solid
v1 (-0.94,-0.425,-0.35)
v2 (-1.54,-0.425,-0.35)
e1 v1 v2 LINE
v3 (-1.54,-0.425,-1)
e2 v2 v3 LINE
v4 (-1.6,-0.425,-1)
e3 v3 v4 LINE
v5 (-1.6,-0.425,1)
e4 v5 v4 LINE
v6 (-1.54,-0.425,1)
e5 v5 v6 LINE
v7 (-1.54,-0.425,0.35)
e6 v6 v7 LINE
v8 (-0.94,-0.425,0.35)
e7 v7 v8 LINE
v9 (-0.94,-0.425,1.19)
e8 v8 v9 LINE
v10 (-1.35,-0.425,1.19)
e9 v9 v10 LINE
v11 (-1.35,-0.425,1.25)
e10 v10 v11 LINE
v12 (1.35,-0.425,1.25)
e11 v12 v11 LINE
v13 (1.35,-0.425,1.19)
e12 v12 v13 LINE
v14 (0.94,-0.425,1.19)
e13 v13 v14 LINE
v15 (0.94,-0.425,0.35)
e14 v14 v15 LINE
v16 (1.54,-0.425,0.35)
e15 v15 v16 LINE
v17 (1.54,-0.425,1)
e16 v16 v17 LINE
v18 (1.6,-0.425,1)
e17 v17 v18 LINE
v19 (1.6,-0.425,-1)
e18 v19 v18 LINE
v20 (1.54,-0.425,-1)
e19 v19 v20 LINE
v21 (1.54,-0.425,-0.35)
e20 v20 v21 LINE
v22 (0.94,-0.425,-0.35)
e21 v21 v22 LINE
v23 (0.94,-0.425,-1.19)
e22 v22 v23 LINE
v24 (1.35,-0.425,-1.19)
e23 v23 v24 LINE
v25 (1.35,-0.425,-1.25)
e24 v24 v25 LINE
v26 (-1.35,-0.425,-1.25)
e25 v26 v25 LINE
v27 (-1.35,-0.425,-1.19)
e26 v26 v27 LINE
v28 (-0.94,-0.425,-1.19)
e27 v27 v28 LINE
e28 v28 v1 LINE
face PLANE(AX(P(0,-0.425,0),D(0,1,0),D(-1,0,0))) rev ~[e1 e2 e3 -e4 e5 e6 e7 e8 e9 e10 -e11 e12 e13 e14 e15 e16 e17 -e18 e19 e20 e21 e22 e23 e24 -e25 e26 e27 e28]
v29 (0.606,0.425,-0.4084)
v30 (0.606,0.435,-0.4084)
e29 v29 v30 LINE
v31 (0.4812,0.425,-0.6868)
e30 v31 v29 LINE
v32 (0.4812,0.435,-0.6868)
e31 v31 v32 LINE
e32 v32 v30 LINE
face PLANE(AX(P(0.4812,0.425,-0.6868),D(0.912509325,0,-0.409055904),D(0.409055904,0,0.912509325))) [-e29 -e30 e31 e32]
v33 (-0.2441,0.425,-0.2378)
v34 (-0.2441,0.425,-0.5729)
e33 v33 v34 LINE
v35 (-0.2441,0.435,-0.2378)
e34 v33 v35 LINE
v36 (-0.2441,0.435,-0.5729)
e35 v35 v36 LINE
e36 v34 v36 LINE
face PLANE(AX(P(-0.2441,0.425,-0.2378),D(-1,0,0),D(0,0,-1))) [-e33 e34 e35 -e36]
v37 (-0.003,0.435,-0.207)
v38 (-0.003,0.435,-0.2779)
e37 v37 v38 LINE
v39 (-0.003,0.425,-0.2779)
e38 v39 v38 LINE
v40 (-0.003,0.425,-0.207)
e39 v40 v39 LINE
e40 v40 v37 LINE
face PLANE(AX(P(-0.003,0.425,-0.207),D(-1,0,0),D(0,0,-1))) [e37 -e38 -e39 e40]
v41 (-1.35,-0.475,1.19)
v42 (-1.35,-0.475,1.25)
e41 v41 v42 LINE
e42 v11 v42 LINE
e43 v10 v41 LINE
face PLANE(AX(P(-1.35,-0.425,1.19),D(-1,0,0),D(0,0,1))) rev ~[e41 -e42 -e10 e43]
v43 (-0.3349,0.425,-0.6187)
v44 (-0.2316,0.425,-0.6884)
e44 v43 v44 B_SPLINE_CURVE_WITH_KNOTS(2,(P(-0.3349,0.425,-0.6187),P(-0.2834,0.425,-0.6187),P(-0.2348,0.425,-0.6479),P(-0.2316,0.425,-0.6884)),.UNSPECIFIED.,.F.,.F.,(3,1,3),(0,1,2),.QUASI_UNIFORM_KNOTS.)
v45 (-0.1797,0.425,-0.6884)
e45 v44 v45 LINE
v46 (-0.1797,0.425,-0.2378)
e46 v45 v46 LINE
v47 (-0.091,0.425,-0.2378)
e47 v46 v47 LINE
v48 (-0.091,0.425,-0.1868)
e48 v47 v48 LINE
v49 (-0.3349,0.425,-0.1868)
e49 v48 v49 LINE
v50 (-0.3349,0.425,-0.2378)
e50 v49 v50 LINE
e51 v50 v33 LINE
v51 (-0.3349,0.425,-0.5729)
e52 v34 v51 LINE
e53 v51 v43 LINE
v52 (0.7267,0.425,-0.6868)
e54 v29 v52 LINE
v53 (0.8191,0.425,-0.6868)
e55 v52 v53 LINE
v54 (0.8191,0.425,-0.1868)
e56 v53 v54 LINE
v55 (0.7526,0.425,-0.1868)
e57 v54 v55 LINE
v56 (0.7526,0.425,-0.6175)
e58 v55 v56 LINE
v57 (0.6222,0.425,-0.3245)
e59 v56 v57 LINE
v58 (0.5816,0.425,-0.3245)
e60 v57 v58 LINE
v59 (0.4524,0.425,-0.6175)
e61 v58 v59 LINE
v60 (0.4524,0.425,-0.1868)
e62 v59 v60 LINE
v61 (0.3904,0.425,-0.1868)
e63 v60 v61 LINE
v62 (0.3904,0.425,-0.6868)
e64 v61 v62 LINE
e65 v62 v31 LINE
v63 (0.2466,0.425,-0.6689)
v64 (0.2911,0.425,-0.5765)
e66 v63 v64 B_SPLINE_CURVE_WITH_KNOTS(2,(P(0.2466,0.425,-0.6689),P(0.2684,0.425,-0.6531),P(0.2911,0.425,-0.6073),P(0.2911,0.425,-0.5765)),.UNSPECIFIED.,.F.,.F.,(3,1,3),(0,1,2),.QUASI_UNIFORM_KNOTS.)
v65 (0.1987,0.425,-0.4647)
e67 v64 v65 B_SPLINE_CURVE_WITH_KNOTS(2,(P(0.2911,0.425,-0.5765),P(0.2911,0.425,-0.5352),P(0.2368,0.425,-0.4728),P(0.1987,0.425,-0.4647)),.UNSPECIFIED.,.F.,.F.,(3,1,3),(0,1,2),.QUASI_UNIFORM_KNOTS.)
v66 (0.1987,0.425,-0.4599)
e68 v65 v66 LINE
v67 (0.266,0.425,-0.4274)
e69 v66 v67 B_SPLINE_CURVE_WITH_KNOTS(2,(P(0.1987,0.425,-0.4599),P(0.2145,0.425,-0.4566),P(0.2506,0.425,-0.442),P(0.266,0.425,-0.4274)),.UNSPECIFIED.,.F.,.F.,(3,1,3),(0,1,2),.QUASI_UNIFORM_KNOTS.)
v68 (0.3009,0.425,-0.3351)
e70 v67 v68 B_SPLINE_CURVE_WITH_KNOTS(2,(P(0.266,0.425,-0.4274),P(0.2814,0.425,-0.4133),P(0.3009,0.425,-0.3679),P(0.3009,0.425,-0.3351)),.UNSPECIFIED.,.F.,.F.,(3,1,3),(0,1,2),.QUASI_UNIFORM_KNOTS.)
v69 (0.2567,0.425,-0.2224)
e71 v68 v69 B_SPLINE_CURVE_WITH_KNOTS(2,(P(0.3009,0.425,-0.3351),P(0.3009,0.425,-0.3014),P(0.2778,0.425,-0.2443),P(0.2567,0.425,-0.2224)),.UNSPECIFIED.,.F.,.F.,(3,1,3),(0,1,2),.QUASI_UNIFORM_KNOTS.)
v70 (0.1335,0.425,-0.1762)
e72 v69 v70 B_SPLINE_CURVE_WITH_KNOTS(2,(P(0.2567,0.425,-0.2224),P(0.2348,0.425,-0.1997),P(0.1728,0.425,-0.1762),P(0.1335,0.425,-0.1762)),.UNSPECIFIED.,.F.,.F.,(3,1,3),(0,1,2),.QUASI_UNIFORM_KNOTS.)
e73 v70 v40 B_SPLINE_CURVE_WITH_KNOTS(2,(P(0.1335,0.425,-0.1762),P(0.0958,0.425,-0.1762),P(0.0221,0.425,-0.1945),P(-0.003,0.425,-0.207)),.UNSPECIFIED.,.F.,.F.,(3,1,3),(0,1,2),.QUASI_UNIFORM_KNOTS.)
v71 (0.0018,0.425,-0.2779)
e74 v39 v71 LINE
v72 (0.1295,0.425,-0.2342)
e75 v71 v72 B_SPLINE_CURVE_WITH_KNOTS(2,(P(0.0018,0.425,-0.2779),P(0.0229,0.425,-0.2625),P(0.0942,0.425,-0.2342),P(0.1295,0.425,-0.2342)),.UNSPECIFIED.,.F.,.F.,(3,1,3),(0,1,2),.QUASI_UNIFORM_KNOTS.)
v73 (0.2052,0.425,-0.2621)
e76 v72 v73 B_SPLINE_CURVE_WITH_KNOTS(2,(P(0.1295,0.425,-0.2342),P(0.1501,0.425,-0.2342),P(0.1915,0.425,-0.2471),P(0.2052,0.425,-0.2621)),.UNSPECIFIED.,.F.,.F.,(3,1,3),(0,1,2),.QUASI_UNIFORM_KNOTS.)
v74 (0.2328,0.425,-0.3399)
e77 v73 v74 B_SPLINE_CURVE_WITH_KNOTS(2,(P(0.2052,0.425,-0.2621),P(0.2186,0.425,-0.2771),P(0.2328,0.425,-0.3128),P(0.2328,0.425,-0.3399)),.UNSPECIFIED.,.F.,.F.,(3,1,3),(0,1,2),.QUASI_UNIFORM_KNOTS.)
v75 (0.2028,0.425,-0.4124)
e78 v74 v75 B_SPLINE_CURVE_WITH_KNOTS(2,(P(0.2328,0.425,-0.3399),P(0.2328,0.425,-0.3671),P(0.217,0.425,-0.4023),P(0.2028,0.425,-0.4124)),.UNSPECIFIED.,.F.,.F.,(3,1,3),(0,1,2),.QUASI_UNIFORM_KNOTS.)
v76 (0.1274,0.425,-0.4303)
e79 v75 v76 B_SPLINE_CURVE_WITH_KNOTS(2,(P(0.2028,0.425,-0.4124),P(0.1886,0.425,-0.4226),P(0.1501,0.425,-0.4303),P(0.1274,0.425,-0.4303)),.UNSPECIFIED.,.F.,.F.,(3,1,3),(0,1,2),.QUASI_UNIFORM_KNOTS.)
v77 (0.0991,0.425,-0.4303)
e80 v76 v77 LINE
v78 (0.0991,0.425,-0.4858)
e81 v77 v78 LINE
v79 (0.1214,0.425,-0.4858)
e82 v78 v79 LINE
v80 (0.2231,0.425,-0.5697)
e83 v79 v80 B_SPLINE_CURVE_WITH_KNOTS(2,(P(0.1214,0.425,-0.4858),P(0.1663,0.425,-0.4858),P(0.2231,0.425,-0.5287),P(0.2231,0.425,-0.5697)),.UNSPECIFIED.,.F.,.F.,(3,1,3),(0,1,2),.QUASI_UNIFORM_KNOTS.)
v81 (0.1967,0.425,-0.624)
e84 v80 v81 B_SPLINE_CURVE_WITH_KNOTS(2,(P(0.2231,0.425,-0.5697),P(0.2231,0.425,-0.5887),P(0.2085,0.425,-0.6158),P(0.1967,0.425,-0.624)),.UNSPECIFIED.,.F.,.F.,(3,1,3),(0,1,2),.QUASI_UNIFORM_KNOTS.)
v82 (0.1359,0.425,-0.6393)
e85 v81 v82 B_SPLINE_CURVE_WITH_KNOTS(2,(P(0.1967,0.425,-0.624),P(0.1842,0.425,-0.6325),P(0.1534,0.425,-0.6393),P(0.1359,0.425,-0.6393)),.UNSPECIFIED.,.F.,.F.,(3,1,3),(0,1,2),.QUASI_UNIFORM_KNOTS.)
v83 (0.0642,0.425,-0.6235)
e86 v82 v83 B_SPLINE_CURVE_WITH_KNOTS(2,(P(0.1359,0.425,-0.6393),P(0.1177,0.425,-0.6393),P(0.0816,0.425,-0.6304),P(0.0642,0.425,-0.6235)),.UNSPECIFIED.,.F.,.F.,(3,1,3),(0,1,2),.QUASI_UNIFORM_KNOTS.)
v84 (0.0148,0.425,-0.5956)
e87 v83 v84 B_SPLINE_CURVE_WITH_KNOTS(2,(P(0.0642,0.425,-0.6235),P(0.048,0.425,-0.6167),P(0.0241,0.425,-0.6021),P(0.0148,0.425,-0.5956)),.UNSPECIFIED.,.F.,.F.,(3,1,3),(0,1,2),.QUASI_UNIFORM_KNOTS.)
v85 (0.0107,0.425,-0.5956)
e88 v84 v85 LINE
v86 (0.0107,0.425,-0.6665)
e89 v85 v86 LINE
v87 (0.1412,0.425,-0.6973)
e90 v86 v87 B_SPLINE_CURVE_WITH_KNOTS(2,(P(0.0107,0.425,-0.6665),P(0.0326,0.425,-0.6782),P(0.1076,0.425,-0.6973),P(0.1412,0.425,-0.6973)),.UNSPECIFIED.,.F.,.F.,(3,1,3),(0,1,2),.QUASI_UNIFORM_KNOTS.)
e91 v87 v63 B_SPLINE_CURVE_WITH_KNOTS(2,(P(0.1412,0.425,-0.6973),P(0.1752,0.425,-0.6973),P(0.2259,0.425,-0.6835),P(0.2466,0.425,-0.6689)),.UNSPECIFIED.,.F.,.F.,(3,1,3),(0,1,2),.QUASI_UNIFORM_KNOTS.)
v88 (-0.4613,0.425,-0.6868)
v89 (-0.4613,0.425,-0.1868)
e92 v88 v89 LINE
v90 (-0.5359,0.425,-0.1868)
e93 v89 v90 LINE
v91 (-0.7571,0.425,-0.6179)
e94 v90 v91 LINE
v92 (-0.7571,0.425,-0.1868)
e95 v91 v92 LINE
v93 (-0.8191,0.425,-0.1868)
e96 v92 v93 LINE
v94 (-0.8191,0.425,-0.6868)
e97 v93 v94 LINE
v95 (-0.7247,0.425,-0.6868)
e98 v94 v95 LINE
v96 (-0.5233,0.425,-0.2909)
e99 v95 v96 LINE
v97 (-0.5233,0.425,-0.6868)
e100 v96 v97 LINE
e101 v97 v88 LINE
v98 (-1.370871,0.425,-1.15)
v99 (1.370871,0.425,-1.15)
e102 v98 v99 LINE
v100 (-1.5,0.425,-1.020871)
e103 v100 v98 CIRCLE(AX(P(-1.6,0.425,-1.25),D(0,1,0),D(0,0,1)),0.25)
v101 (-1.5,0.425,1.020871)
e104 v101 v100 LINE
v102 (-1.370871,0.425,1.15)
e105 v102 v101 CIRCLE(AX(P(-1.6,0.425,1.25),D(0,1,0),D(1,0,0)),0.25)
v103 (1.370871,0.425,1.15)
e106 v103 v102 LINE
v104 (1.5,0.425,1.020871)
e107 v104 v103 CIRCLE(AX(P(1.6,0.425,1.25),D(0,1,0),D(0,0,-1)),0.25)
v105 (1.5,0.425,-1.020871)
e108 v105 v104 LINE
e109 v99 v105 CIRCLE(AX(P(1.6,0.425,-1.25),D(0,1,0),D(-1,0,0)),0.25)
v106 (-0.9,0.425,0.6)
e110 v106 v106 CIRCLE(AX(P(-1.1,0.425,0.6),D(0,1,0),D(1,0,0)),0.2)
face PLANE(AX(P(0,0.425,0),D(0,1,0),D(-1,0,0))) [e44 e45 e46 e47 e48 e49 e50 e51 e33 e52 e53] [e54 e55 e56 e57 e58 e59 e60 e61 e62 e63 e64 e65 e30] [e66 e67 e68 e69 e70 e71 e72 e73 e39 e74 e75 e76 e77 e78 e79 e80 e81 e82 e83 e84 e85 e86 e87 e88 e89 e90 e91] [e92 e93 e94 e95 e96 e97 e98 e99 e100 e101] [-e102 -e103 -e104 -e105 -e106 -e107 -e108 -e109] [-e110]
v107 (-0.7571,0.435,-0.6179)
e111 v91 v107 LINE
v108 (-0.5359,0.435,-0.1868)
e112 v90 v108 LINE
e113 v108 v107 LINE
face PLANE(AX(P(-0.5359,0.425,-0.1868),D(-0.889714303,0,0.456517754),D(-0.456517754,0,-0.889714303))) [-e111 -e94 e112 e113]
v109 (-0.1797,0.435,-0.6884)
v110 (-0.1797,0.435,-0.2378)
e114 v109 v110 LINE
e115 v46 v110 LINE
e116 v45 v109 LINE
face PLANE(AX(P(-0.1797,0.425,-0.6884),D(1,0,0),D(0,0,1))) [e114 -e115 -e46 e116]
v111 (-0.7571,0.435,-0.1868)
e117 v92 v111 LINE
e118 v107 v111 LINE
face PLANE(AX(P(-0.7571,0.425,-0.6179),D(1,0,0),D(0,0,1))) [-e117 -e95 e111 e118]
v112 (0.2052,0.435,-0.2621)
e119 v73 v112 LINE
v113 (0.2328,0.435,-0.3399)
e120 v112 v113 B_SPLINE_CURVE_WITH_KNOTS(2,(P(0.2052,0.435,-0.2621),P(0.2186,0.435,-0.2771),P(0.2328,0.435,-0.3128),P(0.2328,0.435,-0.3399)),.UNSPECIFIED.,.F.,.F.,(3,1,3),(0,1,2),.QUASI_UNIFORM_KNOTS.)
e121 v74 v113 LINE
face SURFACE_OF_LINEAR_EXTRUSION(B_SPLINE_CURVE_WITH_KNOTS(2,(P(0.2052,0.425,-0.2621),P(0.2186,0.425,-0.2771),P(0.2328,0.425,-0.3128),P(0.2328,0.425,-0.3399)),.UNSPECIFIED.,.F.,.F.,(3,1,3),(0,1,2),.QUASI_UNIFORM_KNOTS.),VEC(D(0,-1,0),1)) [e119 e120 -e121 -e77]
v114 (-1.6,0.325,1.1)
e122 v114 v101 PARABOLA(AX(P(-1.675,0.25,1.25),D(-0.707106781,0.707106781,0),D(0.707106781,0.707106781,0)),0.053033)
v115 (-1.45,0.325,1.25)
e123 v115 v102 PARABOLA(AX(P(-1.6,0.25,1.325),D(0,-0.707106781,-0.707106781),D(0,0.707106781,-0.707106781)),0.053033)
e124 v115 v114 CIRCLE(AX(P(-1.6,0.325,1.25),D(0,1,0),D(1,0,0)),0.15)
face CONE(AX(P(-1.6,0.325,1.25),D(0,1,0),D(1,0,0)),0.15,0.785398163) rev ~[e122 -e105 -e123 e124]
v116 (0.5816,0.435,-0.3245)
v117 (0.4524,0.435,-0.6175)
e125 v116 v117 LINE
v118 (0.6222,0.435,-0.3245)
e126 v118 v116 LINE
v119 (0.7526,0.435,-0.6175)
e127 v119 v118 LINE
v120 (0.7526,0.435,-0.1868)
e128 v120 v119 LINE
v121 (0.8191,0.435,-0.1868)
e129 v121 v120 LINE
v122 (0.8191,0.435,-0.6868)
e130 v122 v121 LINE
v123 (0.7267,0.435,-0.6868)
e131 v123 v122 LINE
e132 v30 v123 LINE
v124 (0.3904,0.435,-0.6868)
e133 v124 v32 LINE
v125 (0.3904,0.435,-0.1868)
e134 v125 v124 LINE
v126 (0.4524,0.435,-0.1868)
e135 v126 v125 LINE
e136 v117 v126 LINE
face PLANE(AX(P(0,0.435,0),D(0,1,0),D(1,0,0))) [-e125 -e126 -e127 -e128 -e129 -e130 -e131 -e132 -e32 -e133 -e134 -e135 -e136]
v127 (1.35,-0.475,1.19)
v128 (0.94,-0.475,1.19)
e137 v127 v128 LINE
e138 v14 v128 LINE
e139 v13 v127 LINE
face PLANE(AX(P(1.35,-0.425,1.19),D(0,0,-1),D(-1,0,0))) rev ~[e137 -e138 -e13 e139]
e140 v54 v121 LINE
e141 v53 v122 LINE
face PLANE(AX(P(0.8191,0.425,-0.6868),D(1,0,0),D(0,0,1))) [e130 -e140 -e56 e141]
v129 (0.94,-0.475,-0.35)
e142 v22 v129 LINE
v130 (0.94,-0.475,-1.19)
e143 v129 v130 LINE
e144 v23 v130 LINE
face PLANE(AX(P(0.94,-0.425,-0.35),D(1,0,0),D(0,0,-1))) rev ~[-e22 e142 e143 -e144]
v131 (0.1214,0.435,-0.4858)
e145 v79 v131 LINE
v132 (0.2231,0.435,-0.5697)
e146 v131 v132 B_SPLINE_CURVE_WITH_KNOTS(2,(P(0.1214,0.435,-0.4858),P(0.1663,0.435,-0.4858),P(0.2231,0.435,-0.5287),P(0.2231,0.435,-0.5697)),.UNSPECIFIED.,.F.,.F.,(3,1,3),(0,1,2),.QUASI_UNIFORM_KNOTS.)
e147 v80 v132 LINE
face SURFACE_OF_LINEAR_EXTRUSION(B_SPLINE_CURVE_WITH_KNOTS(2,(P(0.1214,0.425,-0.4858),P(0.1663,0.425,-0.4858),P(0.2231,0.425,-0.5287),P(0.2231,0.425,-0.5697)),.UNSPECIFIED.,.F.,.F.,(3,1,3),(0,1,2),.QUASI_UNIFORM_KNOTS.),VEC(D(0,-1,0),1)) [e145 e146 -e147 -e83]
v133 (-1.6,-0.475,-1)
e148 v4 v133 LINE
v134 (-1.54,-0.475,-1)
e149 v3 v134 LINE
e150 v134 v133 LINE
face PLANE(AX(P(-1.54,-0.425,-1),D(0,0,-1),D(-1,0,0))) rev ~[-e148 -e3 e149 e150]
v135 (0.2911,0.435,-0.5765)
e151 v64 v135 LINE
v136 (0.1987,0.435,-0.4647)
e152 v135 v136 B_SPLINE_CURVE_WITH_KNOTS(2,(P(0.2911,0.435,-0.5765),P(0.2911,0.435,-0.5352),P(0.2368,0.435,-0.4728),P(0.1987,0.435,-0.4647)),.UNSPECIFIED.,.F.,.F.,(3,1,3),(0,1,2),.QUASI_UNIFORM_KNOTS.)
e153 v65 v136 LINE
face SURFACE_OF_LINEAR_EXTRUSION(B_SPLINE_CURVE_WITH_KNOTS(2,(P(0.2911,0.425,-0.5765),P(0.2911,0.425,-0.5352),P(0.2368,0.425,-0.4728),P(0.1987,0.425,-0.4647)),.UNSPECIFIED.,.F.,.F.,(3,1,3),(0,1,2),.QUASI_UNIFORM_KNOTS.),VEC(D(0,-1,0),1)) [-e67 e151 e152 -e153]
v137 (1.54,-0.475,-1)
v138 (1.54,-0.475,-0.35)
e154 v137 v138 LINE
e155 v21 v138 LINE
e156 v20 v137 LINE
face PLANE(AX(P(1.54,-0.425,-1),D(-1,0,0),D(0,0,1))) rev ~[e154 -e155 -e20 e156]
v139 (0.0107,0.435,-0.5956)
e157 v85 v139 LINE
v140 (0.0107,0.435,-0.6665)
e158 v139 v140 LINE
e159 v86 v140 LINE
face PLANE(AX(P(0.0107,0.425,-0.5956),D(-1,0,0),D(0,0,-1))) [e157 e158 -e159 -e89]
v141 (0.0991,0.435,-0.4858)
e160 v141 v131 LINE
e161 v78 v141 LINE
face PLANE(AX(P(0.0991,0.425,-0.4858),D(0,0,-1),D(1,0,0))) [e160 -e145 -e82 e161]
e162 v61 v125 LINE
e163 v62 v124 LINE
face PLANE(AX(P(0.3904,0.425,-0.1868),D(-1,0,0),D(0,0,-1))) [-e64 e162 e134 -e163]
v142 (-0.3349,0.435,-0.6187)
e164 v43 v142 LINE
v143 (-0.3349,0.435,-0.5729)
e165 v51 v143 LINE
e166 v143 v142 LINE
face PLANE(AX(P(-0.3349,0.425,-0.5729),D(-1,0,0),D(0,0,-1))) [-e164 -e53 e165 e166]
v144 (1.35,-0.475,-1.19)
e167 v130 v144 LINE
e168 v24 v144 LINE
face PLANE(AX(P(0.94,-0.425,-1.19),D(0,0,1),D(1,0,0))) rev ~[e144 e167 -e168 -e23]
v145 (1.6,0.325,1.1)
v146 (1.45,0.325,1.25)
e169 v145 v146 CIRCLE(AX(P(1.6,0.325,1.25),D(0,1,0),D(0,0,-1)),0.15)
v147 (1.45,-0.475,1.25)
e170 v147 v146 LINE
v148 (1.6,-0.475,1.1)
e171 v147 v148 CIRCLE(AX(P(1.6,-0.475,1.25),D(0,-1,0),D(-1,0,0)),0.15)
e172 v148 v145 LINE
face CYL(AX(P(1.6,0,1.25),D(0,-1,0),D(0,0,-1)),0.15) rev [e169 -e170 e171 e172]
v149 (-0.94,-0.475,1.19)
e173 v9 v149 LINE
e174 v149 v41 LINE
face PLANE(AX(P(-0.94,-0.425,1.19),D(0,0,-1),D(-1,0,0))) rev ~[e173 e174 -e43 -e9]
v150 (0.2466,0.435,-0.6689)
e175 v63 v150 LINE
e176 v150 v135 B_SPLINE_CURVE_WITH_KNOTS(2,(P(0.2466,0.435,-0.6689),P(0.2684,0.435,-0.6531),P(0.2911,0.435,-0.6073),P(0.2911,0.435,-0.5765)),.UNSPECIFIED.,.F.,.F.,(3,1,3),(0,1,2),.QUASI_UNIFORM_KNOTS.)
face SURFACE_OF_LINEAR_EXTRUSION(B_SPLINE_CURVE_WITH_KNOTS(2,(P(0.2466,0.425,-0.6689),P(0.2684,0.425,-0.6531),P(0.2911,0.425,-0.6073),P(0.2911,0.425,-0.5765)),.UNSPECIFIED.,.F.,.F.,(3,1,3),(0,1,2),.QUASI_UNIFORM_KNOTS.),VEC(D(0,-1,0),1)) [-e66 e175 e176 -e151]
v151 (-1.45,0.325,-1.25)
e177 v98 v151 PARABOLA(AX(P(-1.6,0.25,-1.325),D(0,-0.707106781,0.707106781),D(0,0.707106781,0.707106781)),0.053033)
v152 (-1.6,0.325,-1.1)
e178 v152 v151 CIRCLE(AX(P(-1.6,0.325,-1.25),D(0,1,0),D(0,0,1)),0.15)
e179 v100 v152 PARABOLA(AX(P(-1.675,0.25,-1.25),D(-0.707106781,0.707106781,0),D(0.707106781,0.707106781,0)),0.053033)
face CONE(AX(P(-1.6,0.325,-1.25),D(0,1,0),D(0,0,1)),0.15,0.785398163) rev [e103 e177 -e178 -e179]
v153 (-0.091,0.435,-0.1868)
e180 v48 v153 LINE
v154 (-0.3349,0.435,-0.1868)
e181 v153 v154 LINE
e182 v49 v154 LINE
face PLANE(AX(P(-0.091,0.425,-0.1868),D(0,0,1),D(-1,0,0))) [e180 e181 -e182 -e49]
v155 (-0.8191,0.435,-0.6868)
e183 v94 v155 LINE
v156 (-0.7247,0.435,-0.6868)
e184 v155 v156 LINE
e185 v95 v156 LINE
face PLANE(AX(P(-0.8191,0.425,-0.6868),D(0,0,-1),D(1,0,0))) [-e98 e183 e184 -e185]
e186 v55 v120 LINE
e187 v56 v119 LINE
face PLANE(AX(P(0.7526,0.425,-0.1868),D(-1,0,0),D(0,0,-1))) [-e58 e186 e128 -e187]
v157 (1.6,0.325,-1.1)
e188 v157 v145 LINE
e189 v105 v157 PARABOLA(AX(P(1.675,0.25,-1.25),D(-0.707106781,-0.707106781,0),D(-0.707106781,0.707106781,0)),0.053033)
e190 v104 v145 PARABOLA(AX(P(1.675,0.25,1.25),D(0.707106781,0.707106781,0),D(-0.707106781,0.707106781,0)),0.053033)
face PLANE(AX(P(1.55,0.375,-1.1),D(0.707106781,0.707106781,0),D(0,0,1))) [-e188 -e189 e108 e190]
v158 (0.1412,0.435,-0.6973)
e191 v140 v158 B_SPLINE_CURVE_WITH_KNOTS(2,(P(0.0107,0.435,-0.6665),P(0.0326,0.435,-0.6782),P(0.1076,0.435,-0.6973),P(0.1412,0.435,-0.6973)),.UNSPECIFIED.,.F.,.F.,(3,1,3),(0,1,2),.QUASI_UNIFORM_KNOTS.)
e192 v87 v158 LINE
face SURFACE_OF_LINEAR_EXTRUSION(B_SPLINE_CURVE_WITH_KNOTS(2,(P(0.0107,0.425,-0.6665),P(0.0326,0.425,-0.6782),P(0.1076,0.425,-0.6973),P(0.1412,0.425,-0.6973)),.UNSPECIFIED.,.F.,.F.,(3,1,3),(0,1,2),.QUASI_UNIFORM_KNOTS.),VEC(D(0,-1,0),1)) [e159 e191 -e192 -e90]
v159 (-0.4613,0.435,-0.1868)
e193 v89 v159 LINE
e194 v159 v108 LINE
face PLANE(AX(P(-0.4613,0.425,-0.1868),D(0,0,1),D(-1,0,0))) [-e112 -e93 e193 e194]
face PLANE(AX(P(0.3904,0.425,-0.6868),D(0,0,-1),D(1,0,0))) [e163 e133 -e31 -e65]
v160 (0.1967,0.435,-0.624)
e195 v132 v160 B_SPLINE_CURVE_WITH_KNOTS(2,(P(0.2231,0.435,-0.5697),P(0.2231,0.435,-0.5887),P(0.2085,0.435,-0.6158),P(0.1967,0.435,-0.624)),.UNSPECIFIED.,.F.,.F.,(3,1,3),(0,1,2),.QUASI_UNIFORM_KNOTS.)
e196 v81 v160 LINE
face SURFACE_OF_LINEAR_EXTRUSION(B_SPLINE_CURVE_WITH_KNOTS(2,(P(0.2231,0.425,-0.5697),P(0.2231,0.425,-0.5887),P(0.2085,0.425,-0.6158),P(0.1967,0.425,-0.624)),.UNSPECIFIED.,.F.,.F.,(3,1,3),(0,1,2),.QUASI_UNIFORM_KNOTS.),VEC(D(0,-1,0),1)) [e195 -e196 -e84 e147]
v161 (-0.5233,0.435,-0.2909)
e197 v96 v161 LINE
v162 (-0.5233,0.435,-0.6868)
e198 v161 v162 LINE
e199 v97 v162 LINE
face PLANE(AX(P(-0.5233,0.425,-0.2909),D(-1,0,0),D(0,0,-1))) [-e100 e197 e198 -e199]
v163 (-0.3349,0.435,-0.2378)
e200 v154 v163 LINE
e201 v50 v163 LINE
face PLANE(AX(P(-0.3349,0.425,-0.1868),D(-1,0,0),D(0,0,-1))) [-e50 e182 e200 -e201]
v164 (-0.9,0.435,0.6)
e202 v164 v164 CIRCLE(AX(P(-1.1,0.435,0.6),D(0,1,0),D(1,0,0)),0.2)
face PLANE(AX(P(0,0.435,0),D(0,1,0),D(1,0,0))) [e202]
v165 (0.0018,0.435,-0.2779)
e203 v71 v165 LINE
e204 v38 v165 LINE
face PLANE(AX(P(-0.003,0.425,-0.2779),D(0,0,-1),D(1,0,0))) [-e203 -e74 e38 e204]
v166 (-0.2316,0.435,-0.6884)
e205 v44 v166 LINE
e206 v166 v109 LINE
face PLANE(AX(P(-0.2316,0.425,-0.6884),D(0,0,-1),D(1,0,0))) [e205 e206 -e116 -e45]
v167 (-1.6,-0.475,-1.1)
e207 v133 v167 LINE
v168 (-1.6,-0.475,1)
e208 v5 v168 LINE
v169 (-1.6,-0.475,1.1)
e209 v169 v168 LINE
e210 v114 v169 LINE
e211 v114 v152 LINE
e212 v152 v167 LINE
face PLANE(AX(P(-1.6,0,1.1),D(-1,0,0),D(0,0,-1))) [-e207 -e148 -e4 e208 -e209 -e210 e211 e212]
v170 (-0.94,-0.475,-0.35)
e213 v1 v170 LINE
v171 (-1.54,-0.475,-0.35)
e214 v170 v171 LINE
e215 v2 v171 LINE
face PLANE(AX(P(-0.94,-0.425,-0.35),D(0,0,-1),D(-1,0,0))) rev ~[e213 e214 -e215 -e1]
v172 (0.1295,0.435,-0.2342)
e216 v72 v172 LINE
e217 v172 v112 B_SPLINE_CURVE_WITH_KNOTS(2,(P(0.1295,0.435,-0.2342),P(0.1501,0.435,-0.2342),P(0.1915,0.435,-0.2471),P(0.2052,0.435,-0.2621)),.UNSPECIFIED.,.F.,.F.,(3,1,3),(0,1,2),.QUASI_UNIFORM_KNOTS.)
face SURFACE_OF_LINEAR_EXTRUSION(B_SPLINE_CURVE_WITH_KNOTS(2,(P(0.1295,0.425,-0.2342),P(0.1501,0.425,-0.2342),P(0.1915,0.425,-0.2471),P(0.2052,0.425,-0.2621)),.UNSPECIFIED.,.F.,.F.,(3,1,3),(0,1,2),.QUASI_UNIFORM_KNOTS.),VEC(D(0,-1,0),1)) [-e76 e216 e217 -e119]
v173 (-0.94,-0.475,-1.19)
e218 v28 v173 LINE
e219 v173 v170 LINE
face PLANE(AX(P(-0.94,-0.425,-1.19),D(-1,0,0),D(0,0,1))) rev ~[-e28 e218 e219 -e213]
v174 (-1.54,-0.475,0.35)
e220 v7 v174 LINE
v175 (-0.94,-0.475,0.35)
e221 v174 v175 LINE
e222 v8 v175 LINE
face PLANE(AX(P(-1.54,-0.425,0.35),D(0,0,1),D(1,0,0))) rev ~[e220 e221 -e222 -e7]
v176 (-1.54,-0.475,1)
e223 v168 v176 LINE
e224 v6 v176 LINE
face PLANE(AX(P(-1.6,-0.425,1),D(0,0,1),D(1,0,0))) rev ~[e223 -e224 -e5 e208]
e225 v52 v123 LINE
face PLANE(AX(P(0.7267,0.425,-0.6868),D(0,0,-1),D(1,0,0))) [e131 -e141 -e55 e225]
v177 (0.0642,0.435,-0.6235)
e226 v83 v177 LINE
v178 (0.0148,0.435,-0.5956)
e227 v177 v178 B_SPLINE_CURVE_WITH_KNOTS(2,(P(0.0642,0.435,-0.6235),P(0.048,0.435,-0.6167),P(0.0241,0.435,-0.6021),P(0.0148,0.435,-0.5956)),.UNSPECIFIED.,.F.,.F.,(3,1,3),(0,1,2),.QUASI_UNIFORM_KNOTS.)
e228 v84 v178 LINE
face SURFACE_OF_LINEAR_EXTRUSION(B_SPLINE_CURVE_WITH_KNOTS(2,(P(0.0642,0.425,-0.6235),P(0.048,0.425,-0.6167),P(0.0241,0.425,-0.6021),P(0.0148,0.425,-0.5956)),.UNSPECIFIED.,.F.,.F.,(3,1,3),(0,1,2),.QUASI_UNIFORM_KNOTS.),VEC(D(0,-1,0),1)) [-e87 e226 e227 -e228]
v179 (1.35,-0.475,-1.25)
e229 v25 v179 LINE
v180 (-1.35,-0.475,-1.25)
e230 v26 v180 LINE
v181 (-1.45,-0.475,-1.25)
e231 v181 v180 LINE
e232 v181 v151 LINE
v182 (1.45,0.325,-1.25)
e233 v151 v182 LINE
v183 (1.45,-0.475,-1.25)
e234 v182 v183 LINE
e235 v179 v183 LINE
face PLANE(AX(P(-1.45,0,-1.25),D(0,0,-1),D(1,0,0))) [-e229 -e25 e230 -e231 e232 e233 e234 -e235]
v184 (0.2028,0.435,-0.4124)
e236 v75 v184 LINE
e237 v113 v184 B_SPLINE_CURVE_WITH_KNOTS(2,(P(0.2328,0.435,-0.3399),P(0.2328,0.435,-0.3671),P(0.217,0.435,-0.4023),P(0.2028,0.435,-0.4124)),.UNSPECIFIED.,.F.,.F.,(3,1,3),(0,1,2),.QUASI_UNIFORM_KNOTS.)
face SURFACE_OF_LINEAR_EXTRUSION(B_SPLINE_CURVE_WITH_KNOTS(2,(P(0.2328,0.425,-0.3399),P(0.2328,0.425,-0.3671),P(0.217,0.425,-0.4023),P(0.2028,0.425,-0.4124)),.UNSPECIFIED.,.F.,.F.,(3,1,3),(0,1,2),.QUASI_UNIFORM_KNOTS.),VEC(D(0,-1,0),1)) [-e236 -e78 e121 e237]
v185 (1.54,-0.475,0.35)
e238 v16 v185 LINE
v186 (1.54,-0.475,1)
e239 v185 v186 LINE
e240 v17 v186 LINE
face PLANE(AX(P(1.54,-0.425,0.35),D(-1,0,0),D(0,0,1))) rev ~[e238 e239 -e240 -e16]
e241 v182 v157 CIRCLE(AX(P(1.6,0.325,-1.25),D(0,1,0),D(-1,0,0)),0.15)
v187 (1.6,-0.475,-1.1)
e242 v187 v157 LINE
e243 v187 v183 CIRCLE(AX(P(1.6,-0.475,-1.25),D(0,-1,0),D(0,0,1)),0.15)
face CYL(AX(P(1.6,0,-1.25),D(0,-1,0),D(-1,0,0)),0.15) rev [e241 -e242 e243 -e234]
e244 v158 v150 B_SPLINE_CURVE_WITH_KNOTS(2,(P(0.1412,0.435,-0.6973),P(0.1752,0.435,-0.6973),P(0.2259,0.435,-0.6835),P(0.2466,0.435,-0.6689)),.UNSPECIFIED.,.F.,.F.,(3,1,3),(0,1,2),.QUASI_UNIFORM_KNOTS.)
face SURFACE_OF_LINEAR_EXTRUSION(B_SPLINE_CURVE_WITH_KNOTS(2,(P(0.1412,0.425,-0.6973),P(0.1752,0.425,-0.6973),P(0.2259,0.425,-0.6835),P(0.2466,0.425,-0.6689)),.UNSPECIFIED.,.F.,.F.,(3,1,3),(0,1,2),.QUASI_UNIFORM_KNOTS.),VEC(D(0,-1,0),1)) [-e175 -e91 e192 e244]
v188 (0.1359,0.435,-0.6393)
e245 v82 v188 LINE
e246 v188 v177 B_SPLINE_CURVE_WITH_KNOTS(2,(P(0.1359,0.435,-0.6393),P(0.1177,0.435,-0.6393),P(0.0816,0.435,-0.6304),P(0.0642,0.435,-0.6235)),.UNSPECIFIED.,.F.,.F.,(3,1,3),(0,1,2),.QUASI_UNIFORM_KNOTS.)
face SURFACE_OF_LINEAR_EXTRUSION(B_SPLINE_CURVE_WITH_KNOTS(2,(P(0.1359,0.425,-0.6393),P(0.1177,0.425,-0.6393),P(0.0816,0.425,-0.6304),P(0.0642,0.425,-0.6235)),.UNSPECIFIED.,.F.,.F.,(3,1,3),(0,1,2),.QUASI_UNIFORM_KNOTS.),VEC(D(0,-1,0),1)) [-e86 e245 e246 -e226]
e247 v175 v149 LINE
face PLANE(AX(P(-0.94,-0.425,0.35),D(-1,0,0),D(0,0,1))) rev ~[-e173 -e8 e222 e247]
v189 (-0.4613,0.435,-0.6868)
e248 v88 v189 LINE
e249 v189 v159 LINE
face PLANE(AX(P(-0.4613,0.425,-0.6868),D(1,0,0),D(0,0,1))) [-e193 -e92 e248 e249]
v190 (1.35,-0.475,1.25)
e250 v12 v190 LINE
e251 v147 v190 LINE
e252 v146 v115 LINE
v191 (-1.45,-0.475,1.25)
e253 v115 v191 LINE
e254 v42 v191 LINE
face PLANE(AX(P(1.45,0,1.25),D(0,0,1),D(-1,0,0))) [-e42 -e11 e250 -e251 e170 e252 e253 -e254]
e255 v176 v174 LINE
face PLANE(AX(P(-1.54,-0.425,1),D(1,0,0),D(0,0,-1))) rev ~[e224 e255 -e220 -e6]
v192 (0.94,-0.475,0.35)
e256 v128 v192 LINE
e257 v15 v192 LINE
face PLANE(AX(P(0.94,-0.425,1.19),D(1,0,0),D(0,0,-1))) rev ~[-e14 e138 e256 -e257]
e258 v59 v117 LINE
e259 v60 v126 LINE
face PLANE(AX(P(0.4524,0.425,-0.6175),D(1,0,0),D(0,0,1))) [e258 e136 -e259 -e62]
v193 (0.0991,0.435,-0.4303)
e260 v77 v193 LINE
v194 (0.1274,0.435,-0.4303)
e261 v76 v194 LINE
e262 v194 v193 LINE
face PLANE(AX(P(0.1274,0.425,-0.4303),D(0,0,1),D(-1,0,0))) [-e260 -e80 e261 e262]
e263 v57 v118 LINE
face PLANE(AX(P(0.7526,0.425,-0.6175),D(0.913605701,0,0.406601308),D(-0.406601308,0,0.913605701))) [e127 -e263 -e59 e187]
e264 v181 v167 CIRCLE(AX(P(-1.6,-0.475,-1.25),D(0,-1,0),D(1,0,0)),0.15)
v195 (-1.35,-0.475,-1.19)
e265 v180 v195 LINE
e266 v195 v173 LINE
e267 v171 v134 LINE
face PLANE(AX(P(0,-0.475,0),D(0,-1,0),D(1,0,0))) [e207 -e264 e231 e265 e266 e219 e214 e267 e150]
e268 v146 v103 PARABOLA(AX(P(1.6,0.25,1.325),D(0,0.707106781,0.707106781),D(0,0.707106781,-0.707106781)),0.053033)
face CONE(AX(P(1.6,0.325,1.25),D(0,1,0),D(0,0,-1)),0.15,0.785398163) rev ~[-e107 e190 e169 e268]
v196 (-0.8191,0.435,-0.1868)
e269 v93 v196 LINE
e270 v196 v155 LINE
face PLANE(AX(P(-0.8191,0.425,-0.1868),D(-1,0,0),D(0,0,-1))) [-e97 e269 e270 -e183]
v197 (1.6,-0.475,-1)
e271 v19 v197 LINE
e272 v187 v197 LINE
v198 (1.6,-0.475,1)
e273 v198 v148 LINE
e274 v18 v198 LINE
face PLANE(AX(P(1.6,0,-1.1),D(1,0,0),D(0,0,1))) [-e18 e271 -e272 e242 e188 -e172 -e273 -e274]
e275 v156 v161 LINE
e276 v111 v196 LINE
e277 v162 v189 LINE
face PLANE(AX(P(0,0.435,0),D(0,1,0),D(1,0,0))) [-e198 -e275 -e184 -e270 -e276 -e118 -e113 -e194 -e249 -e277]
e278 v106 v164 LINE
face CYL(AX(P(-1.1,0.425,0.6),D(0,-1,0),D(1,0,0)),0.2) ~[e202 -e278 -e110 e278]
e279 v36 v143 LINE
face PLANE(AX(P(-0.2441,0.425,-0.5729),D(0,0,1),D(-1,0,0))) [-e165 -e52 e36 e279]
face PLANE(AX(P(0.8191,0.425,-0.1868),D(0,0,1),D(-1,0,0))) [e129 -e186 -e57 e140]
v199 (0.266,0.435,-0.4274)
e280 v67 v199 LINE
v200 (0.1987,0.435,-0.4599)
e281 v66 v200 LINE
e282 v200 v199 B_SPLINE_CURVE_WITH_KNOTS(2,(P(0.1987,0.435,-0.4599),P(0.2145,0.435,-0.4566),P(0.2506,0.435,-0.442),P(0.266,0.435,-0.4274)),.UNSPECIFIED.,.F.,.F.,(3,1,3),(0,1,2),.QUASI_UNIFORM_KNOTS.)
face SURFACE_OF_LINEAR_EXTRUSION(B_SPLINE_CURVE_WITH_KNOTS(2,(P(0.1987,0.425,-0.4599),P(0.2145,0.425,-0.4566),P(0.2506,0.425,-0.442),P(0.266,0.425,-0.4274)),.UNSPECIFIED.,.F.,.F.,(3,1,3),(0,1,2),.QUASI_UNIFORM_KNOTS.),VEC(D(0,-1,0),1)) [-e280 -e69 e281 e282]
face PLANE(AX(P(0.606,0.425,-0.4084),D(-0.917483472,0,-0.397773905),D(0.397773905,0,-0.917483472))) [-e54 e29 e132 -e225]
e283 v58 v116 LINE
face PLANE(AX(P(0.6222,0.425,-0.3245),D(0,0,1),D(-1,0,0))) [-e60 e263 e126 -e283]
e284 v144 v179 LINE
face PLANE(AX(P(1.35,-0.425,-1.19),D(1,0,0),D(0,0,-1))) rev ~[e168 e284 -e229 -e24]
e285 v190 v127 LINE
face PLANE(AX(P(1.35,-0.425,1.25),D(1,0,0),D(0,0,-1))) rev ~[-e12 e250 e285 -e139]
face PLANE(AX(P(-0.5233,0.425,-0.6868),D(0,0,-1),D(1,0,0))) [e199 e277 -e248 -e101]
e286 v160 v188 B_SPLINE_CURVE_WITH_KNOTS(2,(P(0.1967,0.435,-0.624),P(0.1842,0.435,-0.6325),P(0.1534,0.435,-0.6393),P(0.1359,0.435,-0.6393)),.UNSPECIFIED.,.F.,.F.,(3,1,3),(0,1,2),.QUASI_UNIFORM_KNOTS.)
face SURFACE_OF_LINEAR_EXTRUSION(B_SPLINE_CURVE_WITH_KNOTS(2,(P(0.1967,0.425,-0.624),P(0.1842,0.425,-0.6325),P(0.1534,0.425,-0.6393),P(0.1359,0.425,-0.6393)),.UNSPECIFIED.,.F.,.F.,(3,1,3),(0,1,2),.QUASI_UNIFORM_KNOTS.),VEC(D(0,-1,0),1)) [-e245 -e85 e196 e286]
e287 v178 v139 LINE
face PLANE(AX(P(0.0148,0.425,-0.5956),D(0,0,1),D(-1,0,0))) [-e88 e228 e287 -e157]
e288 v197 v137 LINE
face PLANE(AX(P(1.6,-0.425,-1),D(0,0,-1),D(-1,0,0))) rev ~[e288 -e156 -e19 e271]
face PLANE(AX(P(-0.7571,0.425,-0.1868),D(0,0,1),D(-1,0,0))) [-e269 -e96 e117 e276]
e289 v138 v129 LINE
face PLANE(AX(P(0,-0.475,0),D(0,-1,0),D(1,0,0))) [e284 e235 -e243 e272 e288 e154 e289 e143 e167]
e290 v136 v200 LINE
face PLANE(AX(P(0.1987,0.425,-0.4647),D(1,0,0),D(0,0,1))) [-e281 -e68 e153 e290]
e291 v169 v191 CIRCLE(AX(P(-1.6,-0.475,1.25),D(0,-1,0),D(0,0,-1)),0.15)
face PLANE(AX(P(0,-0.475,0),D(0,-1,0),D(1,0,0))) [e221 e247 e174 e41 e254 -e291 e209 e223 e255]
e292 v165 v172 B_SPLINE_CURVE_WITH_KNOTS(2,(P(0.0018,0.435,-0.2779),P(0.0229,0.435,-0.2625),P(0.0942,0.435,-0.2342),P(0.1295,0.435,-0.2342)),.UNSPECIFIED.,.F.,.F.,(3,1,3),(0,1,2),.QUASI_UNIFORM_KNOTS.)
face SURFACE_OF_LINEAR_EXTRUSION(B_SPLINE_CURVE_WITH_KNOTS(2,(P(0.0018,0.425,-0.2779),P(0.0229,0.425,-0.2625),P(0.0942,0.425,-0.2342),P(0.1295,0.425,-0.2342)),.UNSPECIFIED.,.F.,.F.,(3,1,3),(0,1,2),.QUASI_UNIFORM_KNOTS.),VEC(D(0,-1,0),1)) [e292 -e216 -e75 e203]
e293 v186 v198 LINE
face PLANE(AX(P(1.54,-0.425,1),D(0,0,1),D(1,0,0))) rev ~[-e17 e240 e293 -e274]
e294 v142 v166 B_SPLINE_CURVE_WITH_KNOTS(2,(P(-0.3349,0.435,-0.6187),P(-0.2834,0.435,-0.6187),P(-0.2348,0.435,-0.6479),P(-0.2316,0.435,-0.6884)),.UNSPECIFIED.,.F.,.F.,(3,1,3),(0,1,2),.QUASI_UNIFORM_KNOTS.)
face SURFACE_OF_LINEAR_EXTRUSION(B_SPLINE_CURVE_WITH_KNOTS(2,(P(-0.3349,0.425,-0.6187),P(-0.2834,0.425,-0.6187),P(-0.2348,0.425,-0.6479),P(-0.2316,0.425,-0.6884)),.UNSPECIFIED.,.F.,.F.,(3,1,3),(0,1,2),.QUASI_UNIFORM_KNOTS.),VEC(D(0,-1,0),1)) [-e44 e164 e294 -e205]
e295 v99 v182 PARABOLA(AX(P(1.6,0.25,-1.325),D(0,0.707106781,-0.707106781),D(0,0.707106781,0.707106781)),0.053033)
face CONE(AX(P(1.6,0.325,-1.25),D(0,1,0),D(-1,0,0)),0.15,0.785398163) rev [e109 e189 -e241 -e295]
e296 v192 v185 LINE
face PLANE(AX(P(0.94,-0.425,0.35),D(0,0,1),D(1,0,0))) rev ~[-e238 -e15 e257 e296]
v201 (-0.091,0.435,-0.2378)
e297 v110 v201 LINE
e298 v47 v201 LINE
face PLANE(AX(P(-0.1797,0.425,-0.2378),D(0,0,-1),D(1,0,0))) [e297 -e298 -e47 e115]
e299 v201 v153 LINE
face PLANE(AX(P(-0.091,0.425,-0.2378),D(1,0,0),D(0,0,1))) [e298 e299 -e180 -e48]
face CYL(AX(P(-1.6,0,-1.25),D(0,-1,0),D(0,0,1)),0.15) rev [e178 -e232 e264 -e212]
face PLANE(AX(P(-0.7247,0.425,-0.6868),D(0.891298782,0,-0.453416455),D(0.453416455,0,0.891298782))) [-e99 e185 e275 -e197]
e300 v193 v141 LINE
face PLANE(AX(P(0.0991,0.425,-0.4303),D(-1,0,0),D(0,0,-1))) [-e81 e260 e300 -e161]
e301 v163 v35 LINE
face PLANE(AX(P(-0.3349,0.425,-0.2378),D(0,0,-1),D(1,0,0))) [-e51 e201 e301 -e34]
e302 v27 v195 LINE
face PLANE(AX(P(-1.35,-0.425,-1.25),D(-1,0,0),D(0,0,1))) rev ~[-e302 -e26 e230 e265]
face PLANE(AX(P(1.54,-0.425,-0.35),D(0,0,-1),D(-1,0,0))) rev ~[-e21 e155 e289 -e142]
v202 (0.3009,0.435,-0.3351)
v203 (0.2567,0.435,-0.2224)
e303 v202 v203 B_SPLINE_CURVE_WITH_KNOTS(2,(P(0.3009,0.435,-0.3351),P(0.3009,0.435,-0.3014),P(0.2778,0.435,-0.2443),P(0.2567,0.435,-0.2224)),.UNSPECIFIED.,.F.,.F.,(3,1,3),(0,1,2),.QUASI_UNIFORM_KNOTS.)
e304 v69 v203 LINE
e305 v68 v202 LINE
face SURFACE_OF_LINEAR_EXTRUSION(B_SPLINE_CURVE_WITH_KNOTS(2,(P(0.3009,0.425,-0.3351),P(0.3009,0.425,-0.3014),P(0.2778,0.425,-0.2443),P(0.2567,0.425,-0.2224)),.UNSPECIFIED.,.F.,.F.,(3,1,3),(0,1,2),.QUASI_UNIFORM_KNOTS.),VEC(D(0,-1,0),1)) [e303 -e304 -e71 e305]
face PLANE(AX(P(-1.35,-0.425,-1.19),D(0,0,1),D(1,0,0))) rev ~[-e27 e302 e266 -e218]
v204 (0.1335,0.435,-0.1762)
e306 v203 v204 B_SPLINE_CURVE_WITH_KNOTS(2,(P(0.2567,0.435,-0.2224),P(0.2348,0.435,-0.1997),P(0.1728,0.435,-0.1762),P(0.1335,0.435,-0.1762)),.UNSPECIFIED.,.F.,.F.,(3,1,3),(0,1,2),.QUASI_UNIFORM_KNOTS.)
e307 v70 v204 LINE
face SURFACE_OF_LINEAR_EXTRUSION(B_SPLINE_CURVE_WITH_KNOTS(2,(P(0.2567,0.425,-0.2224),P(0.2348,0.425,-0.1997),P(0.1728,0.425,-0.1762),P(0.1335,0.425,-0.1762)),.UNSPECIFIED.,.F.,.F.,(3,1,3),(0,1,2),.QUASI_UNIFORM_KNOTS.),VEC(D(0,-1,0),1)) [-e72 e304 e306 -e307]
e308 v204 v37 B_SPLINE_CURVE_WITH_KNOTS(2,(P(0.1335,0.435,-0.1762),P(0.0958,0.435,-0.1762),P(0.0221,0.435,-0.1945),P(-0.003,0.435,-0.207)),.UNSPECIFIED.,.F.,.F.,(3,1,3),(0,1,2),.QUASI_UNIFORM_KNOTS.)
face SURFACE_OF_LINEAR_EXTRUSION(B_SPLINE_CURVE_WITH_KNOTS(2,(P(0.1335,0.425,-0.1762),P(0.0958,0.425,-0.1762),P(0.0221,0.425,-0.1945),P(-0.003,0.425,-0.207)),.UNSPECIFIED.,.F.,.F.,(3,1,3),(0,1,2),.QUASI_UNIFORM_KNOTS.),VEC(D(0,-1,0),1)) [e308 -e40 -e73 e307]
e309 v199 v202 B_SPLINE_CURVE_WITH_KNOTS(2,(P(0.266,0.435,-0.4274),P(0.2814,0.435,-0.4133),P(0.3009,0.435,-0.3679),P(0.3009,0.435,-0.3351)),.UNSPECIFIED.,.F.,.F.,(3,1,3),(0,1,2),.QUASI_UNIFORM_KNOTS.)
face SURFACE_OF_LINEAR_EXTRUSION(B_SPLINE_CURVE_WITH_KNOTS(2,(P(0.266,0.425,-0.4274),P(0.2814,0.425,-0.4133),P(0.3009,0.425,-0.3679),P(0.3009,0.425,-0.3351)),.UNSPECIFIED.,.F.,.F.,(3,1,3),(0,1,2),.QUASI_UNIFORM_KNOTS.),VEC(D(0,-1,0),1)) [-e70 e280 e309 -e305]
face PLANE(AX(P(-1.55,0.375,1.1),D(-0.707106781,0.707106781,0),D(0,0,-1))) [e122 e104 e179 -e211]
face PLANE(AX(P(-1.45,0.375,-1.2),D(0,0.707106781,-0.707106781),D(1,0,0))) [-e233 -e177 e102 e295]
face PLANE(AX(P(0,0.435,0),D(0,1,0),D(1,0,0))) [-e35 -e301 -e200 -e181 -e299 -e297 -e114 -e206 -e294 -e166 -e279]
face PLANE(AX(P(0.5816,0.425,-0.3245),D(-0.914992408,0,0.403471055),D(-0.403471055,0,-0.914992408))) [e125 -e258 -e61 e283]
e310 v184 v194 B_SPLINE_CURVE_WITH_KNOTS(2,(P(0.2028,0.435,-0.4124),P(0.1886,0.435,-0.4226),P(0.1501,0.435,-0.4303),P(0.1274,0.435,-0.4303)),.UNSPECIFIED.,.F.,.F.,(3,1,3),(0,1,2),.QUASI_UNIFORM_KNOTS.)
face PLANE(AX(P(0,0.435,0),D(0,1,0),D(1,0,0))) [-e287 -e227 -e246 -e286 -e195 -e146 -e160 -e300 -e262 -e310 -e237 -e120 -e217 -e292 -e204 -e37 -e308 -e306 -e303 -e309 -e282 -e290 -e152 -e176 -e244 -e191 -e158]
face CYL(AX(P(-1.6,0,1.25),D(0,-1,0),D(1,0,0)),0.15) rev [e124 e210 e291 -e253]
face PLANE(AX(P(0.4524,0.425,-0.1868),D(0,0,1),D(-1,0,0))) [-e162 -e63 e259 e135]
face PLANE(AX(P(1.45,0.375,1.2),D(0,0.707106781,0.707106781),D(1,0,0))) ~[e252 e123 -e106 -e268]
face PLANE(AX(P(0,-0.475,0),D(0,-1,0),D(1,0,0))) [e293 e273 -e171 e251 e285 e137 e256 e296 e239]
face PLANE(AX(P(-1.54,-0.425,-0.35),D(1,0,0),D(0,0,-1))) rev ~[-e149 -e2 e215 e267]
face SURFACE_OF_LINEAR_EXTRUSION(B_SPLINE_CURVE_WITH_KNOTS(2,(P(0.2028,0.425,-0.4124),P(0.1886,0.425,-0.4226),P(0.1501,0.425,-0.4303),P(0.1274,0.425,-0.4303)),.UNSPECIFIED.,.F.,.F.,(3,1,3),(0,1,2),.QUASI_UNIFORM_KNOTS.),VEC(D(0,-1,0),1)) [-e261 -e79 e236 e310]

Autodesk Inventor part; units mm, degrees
ref_plane "YZ Plane" through (0, 0, 0) normal (1, 0, 0) x (0, 1, 0)
ref_plane "XZ Plane" through (0, 0, 0) normal (0, 1, 0) x (-1, 0, 0)
ref_plane "XY Plane" through (0, 0, 0) normal (0, 0, 1) x (1, 0, 0)
sketch "Sketch1" plane through (0, 0, 0) normal (0, 1, 0) x (-1, 0, 0)
  line L0 (-1.6, 1.25) -> (1.6, 1.25)
  line L1 (1.6, 1.25) -> (1.6, -1.25)
  line L2 (1.6, -1.25) -> (-1.6, -1.25)
  line L3 (-1.6, -1.25) -> (-1.6, 1.25)
  line L4 (-1.6, 1.25) -> (1.6, -1.25) construction
  line L5 (1.6, 1.25) -> (-1.6, -1.25) construction
  arc A0 (1.6, -1.1) -> (1.45, -1.25) centre (1.6, -1.25) ccw
  arc A1 (-1.45, -1.25) -> (-1.6, -1.1) centre (-1.6, -1.25) ccw
  arc A2 (-1.6, 1.1) -> (-1.45, 1.25) centre (-1.6, 1.25) ccw
  arc A3 (1.45, 1.25) -> (1.6, 1.1) centre (1.6, 1.25) ccw
  point P0 (0, 0)
  dimension "d0" = 3.2
  dimension "d1" = 2.5
  dimension "d4" = 0.15
extrude "Extrusion1" add sketch "Sketch1" along normal mid plane 0.85 contours L0 A3 L1 A0 L2 A1 L3 A2
chamfer "Chamfer1" distance 0.1 angle 45 8 edges at (0, 0.425, 1.25) (-1.4939, 0.425, 1.1439) (-1.6, 0.425, 0) (-1.4939, 0.425, -1.1439) (0, 0.425, -1.25) (1.4939, 0.425, -1.1439) (1.6, 0.425, 0) (1.4939, 0.425, 1.1439)
sketch "Sketch3" plane through (0, 0.425, 0) normal (0, 1, 0) x (1, 0, 0)
  line L0 (-1.3709, 1.15) -> (1.3709, 1.15) projected
  arc A0 (-1.5, 1.0209) -> (-1.3709, 1.15) centre (-1.6, 1.25) ccw projected
  line L1 (-1.5, -1.0209) -> (-1.5, 1.0209) projected
  arc A1 (-1.3709, -1.15) -> (-1.5, -1.0209) centre (-1.6, -1.25) ccw projected
  line L2 (1.3709, -1.15) -> (-1.3709, -1.15) projected
  arc A2 (1.5, -1.0209) -> (1.3709, -1.15) centre (1.6, -1.25) ccw projected
  line L3 (1.5, 1.0209) -> (1.5, -1.0209) projected
  arc A3 (1.3709, 1.15) -> (1.5, 1.0209) centre (1.6, 1.25) ccw projected
  line L4 (1.5, 1.0209) -> (1.5, -1.0209) construction
  line L5 (1.5, 0.1868) -> (-1.5, 0.1868) construction
  circle A4 centre (-1.1, -0.6) radius 0.2
  line L6 (-0.4613, 0.1868) -> (-0.5359, 0.1868)
  line L7 (-0.5359, 0.1868) -> (-0.7571, 0.6179)
  line L8 (-0.7571, 0.6179) -> (-0.7571, 0.1868)
  line L9 (-0.7571, 0.1868) -> (-0.8191, 0.1868)
  line L10 (-0.8191, 0.1868) -> (-0.8191, 0.6868)
  line L11 (-0.8191, 0.6868) -> (-0.7247, 0.6868)
  line L12 (-0.7247, 0.6868) -> (-0.5233, 0.2909)
  line L13 (-0.5233, 0.2909) -> (-0.5233, 0.6868)
  line L14 (-0.5233, 0.6868) -> (-0.4613, 0.6868)
  line L15 (-0.4613, 0.6868) -> (-0.4613, 0.1868)
  line L16 (-0.091, 0.1868) -> (-0.3349, 0.1868)
  line L17 (-0.3349, 0.1868) -> (-0.3349, 0.2378)
  line L18 (-0.3349, 0.2378) -> (-0.2441, 0.2378)
  line L19 (-0.2441, 0.2378) -> (-0.2441, 0.5729)
  line L20 (-0.2441, 0.5729) -> (-0.3349, 0.5729)
  line L21 (-0.3349, 0.5729) -> (-0.3349, 0.6187)
  spline S0 degree 2 poles (-0.3349, 0.6187) (-0.2834, 0.6187) (-0.2348, 0.6479) (-0.2316, 0.6884) knots 0 0 0 1 2 2 2
  line L22 (-0.2316, 0.6884) -> (-0.1797, 0.6884)
  line L23 (-0.1797, 0.6884) -> (-0.1797, 0.2378)
  line L24 (-0.1797, 0.2378) -> (-0.091, 0.2378)
  line L25 (-0.091, 0.2378) -> (-0.091, 0.1868)
  spline S1 degree 2 poles (0.1359, 0.6393) (0.1177, 0.6393) (0.0816, 0.6304) (0.0642, 0.6235) knots 0 0 0 1 2 2 2
  spline S2 degree 2 poles (0.0642, 0.6235) (0.048, 0.6167) (0.0241, 0.6021) (0.0148, 0.5956) knots 0 0 0 1 2 2 2
  line L26 (0.0148, 0.5956) -> (0.0107, 0.5956)
  line L27 (0.0107, 0.5956) -> (0.0107, 0.6665)
  spline S3 degree 2 poles (0.0107, 0.6665) (0.0326, 0.6782) (0.1076, 0.6973) (0.1412, 0.6973) knots 0 0 0 1 2 2 2
  spline S4 degree 2 poles (0.1412, 0.6973) (0.1752, 0.6973) (0.2259, 0.6835) (0.2466, 0.6689) knots 0 0 0 1 2 2 2
  spline S5 degree 2 poles (0.2466, 0.6689) (0.2684, 0.6531) (0.2911, 0.6073) (0.2911, 0.5765) knots 0 0 0 1 2 2 2
  spline S6 degree 2 poles (0.2911, 0.5765) (0.2911, 0.5352) (0.2368, 0.4728) (0.1987, 0.4647) knots 0 0 0 1 2 2 2
  line L28 (0.1987, 0.4647) -> (0.1987, 0.4599)
  spline S7 degree 2 poles (0.1987, 0.4599) (0.2145, 0.4566) (0.2506, 0.442) (0.266, 0.4274) knots 0 0 0 1 2 2 2
  spline S8 degree 2 poles (0.266, 0.4274) (0.2814, 0.4133) (0.3009, 0.3679) (0.3009, 0.3351) knots 0 0 0 1 2 2 2
  spline S9 degree 2 poles (0.3009, 0.3351) (0.3009, 0.3014) (0.2778, 0.2443) (0.2567, 0.2224) knots 0 0 0 1 2 2 2
  spline S10 degree 2 poles (0.2567, 0.2224) (0.2348, 0.1997) (0.1728, 0.1762) (0.1335, 0.1762) knots 0 0 0 1 2 2 2
  spline S11 degree 2 poles (0.1335, 0.1762) (0.0958, 0.1762) (0.0221, 0.1945) (-0.003, 0.207) knots 0 0 0 1 2 2 2
  line L29 (-0.003, 0.207) -> (-0.003, 0.2779)
  line L30 (-0.003, 0.2779) -> (0.0018, 0.2779)
  spline S12 degree 2 poles (0.0018, 0.2779) (0.0229, 0.2625) (0.0942, 0.2342) (0.1295, 0.2342) knots 0 0 0 1 2 2 2
  spline S13 degree 2 poles (0.1295, 0.2342) (0.1501, 0.2342) (0.1915, 0.2471) (0.2052, 0.2621) knots 0 0 0 1 2 2 2
  spline S14 degree 2 poles (0.2052, 0.2621) (0.2186, 0.2771) (0.2328, 0.3128) (0.2328, 0.3399) knots 0 0 0 1 2 2 2
  spline S15 degree 2 poles (0.2328, 0.3399) (0.2328, 0.3671) (0.217, 0.4023) (0.2028, 0.4124) knots 0 0 0 1 2 2 2
  spline S16 degree 2 poles (0.2028, 0.4124) (0.1886, 0.4226) (0.1501, 0.4303) (0.1274, 0.4303) knots 0 0 0 1 2 2 2
  line L31 (0.1274, 0.4303) -> (0.0991, 0.4303)
  line L32 (0.0991, 0.4303) -> (0.0991, 0.4858)
  line L33 (0.0991, 0.4858) -> (0.1214, 0.4858)
  spline S17 degree 2 poles (0.1214, 0.4858) (0.1663, 0.4858) (0.2231, 0.5287) (0.2231, 0.5697) knots 0 0 0 1 2 2 2
  spline S18 degree 2 poles (0.2231, 0.5697) (0.2231, 0.5887) (0.2085, 0.6158) (0.1967, 0.624) knots 0 0 0 1 2 2 2
  spline S19 degree 2 poles (0.1967, 0.624) (0.1842, 0.6325) (0.1534, 0.6393) (0.1359, 0.6393) knots 0 0 0 1 2 2 2
  line L34 (0.8191, 0.1868) -> (0.7526, 0.1868)
  line L35 (0.7526, 0.1868) -> (0.7526, 0.6175)
  line L36 (0.7526, 0.6175) -> (0.6222, 0.3245)
  line L37 (0.6222, 0.3245) -> (0.5816, 0.3245)
  line L38 (0.5816, 0.3245) -> (0.4524, 0.6175)
  line L39 (0.4524, 0.6175) -> (0.4524, 0.1868)
  line L40 (0.4524, 0.1868) -> (0.3904, 0.1868)
  line L41 (0.3904, 0.1868) -> (0.3904, 0.6868)
  line L42 (0.3904, 0.6868) -> (0.4812, 0.6868)
  line L43 (0.4812, 0.6868) -> (0.606, 0.4084)
  line L44 (0.606, 0.4084) -> (0.7267, 0.6868)
  line L45 (0.7267, 0.6868) -> (0.8191, 0.6868)
  line L46 (0.8191, 0.6868) -> (0.8191, 0.1868)
  point P0 (0, 0)
  dimension "d27" = 0.4
  dimension "d28" = 0.6
  dimension "d29" = 1.1
extrude "Extrusion3" add sketch "Sketch3" along normal blind 0.01 contours A4 | L6 L7 L8 L9 L10 L11 L12 L13 L14 L15 | L16 L17 L18 L19 L20 L21 S0 L22 L23 L24 L25 | S1 S2 L26 L27 S3 S4 S5 S6 L28 S7 S8 S9 S10 S11 L29 L30 S12 S13 S14 S15 S16 L31 L32 L33 S17 S18 S19 | L34 L35 L36 L37 L38 L39 L40 L41 L42 L43 L44 L45 L46
sketch "Sketch4" plane through (0, -0.425, 0) normal (0, -1, 0) x (1, 0, 0)
  line L0 (-1.6, 1.1) -> (-1.6, -1.1) projected
  arc A0 (-1.45, -1.25) -> (-1.6, -1.1) centre (-1.6, -1.25) ccw projected
  line L1 (-1.45, -1.25) -> (1.45, -1.25) projected
  arc A1 (1.6, -1.1) -> (1.45, -1.25) centre (1.6, -1.25) ccw projected
  line L2 (1.6, -1.1) -> (1.6, 1.1) projected
  arc A2 (1.45, 1.25) -> (1.6, 1.1) centre (1.6, 1.25) ccw projected
  line L3 (1.45, 1.25) -> (-1.45, 1.25) projected
  arc A3 (-1.6, 1.1) -> (-1.45, 1.25) centre (-1.6, 1.25) ccw projected
  line L4 (1.35, 1.25) -> (1.35, 1.19)
  line L5 (1.35, 1.19) -> (0.94, 1.19)
  line L6 (0.94, 1.19) -> (0.94, 0.35)
  line L7 (0.94, 0.35) -> (1.54, 0.35)
  line L8 (1.54, 0.35) -> (1.54, 1)
  line L9 (1.54, 1) -> (1.6, 1)
  line L10 (-1.6, -1.1) -> (-1.6, 1.1) projected
  line L11 (-1.6, 1) -> (-1.54, 1)
  line L12 (-1.54, 1) -> (-1.54, 0.35)
  line L13 (-1.54, 0.35) -> (-0.94, 0.35)
  line L14 (-0.94, 0.35) -> (-0.94, 1.19)
  line L15 (-0.94, 1.19) -> (-1.35, 1.19)
  line L16 (-1.35, 1.19) -> (-1.35, 1.25)
  line L17 (1.45, -1.25) -> (-1.45, -1.25) projected
  line L18 (-1.35, -1.25) -> (-1.35, -1.19)
  line L19 (-1.35, -1.19) -> (-0.94, -1.19)
  line L20 (-0.94, -1.19) -> (-0.94, -0.35)
  line L21 (-0.94, -0.35) -> (-1.54, -0.35)
  line L22 (-1.54, -0.35) -> (-1.54, -1)
  line L23 (-1.54, -1) -> (-1.6, -1)
  line L24 (1.6, -1) -> (1.54, -1)
  line L25 (1.54, -1) -> (1.54, -0.35)
  line L26 (1.54, -0.35) -> (0.94, -0.35)
  line L27 (0.94, -0.35) -> (0.94, -1.19)
  line L28 (0.94, -1.19) -> (1.35, -1.19)
  line L29 (1.35, -1.19) -> (1.35, -1.25)
  point P0 (0, 0)
  dimension "d20" = 0.84
  dimension "d21" = 0.6
  dimension "d22" = 1.88
  dimension "d23" = 0.25
  dimension "d24" = 0.25
extrude "Extrusion5" add sketch "Sketch4" along normal blind 0.05 contours A3 L3 L16 L15 L14 L13 L12 L11 L0 | L23 L22 L21 L20 L19 L18 L1 A0 L0 | L3 A2 L2 L9 L8 L7 L6 L5 L4 | L29 L28 L27 L26 L25 L24 L2 A1 L1
equation "\"d24\" = d23"
properties part number "Crystal_TXO-3225" material "Aluminum 6061"
